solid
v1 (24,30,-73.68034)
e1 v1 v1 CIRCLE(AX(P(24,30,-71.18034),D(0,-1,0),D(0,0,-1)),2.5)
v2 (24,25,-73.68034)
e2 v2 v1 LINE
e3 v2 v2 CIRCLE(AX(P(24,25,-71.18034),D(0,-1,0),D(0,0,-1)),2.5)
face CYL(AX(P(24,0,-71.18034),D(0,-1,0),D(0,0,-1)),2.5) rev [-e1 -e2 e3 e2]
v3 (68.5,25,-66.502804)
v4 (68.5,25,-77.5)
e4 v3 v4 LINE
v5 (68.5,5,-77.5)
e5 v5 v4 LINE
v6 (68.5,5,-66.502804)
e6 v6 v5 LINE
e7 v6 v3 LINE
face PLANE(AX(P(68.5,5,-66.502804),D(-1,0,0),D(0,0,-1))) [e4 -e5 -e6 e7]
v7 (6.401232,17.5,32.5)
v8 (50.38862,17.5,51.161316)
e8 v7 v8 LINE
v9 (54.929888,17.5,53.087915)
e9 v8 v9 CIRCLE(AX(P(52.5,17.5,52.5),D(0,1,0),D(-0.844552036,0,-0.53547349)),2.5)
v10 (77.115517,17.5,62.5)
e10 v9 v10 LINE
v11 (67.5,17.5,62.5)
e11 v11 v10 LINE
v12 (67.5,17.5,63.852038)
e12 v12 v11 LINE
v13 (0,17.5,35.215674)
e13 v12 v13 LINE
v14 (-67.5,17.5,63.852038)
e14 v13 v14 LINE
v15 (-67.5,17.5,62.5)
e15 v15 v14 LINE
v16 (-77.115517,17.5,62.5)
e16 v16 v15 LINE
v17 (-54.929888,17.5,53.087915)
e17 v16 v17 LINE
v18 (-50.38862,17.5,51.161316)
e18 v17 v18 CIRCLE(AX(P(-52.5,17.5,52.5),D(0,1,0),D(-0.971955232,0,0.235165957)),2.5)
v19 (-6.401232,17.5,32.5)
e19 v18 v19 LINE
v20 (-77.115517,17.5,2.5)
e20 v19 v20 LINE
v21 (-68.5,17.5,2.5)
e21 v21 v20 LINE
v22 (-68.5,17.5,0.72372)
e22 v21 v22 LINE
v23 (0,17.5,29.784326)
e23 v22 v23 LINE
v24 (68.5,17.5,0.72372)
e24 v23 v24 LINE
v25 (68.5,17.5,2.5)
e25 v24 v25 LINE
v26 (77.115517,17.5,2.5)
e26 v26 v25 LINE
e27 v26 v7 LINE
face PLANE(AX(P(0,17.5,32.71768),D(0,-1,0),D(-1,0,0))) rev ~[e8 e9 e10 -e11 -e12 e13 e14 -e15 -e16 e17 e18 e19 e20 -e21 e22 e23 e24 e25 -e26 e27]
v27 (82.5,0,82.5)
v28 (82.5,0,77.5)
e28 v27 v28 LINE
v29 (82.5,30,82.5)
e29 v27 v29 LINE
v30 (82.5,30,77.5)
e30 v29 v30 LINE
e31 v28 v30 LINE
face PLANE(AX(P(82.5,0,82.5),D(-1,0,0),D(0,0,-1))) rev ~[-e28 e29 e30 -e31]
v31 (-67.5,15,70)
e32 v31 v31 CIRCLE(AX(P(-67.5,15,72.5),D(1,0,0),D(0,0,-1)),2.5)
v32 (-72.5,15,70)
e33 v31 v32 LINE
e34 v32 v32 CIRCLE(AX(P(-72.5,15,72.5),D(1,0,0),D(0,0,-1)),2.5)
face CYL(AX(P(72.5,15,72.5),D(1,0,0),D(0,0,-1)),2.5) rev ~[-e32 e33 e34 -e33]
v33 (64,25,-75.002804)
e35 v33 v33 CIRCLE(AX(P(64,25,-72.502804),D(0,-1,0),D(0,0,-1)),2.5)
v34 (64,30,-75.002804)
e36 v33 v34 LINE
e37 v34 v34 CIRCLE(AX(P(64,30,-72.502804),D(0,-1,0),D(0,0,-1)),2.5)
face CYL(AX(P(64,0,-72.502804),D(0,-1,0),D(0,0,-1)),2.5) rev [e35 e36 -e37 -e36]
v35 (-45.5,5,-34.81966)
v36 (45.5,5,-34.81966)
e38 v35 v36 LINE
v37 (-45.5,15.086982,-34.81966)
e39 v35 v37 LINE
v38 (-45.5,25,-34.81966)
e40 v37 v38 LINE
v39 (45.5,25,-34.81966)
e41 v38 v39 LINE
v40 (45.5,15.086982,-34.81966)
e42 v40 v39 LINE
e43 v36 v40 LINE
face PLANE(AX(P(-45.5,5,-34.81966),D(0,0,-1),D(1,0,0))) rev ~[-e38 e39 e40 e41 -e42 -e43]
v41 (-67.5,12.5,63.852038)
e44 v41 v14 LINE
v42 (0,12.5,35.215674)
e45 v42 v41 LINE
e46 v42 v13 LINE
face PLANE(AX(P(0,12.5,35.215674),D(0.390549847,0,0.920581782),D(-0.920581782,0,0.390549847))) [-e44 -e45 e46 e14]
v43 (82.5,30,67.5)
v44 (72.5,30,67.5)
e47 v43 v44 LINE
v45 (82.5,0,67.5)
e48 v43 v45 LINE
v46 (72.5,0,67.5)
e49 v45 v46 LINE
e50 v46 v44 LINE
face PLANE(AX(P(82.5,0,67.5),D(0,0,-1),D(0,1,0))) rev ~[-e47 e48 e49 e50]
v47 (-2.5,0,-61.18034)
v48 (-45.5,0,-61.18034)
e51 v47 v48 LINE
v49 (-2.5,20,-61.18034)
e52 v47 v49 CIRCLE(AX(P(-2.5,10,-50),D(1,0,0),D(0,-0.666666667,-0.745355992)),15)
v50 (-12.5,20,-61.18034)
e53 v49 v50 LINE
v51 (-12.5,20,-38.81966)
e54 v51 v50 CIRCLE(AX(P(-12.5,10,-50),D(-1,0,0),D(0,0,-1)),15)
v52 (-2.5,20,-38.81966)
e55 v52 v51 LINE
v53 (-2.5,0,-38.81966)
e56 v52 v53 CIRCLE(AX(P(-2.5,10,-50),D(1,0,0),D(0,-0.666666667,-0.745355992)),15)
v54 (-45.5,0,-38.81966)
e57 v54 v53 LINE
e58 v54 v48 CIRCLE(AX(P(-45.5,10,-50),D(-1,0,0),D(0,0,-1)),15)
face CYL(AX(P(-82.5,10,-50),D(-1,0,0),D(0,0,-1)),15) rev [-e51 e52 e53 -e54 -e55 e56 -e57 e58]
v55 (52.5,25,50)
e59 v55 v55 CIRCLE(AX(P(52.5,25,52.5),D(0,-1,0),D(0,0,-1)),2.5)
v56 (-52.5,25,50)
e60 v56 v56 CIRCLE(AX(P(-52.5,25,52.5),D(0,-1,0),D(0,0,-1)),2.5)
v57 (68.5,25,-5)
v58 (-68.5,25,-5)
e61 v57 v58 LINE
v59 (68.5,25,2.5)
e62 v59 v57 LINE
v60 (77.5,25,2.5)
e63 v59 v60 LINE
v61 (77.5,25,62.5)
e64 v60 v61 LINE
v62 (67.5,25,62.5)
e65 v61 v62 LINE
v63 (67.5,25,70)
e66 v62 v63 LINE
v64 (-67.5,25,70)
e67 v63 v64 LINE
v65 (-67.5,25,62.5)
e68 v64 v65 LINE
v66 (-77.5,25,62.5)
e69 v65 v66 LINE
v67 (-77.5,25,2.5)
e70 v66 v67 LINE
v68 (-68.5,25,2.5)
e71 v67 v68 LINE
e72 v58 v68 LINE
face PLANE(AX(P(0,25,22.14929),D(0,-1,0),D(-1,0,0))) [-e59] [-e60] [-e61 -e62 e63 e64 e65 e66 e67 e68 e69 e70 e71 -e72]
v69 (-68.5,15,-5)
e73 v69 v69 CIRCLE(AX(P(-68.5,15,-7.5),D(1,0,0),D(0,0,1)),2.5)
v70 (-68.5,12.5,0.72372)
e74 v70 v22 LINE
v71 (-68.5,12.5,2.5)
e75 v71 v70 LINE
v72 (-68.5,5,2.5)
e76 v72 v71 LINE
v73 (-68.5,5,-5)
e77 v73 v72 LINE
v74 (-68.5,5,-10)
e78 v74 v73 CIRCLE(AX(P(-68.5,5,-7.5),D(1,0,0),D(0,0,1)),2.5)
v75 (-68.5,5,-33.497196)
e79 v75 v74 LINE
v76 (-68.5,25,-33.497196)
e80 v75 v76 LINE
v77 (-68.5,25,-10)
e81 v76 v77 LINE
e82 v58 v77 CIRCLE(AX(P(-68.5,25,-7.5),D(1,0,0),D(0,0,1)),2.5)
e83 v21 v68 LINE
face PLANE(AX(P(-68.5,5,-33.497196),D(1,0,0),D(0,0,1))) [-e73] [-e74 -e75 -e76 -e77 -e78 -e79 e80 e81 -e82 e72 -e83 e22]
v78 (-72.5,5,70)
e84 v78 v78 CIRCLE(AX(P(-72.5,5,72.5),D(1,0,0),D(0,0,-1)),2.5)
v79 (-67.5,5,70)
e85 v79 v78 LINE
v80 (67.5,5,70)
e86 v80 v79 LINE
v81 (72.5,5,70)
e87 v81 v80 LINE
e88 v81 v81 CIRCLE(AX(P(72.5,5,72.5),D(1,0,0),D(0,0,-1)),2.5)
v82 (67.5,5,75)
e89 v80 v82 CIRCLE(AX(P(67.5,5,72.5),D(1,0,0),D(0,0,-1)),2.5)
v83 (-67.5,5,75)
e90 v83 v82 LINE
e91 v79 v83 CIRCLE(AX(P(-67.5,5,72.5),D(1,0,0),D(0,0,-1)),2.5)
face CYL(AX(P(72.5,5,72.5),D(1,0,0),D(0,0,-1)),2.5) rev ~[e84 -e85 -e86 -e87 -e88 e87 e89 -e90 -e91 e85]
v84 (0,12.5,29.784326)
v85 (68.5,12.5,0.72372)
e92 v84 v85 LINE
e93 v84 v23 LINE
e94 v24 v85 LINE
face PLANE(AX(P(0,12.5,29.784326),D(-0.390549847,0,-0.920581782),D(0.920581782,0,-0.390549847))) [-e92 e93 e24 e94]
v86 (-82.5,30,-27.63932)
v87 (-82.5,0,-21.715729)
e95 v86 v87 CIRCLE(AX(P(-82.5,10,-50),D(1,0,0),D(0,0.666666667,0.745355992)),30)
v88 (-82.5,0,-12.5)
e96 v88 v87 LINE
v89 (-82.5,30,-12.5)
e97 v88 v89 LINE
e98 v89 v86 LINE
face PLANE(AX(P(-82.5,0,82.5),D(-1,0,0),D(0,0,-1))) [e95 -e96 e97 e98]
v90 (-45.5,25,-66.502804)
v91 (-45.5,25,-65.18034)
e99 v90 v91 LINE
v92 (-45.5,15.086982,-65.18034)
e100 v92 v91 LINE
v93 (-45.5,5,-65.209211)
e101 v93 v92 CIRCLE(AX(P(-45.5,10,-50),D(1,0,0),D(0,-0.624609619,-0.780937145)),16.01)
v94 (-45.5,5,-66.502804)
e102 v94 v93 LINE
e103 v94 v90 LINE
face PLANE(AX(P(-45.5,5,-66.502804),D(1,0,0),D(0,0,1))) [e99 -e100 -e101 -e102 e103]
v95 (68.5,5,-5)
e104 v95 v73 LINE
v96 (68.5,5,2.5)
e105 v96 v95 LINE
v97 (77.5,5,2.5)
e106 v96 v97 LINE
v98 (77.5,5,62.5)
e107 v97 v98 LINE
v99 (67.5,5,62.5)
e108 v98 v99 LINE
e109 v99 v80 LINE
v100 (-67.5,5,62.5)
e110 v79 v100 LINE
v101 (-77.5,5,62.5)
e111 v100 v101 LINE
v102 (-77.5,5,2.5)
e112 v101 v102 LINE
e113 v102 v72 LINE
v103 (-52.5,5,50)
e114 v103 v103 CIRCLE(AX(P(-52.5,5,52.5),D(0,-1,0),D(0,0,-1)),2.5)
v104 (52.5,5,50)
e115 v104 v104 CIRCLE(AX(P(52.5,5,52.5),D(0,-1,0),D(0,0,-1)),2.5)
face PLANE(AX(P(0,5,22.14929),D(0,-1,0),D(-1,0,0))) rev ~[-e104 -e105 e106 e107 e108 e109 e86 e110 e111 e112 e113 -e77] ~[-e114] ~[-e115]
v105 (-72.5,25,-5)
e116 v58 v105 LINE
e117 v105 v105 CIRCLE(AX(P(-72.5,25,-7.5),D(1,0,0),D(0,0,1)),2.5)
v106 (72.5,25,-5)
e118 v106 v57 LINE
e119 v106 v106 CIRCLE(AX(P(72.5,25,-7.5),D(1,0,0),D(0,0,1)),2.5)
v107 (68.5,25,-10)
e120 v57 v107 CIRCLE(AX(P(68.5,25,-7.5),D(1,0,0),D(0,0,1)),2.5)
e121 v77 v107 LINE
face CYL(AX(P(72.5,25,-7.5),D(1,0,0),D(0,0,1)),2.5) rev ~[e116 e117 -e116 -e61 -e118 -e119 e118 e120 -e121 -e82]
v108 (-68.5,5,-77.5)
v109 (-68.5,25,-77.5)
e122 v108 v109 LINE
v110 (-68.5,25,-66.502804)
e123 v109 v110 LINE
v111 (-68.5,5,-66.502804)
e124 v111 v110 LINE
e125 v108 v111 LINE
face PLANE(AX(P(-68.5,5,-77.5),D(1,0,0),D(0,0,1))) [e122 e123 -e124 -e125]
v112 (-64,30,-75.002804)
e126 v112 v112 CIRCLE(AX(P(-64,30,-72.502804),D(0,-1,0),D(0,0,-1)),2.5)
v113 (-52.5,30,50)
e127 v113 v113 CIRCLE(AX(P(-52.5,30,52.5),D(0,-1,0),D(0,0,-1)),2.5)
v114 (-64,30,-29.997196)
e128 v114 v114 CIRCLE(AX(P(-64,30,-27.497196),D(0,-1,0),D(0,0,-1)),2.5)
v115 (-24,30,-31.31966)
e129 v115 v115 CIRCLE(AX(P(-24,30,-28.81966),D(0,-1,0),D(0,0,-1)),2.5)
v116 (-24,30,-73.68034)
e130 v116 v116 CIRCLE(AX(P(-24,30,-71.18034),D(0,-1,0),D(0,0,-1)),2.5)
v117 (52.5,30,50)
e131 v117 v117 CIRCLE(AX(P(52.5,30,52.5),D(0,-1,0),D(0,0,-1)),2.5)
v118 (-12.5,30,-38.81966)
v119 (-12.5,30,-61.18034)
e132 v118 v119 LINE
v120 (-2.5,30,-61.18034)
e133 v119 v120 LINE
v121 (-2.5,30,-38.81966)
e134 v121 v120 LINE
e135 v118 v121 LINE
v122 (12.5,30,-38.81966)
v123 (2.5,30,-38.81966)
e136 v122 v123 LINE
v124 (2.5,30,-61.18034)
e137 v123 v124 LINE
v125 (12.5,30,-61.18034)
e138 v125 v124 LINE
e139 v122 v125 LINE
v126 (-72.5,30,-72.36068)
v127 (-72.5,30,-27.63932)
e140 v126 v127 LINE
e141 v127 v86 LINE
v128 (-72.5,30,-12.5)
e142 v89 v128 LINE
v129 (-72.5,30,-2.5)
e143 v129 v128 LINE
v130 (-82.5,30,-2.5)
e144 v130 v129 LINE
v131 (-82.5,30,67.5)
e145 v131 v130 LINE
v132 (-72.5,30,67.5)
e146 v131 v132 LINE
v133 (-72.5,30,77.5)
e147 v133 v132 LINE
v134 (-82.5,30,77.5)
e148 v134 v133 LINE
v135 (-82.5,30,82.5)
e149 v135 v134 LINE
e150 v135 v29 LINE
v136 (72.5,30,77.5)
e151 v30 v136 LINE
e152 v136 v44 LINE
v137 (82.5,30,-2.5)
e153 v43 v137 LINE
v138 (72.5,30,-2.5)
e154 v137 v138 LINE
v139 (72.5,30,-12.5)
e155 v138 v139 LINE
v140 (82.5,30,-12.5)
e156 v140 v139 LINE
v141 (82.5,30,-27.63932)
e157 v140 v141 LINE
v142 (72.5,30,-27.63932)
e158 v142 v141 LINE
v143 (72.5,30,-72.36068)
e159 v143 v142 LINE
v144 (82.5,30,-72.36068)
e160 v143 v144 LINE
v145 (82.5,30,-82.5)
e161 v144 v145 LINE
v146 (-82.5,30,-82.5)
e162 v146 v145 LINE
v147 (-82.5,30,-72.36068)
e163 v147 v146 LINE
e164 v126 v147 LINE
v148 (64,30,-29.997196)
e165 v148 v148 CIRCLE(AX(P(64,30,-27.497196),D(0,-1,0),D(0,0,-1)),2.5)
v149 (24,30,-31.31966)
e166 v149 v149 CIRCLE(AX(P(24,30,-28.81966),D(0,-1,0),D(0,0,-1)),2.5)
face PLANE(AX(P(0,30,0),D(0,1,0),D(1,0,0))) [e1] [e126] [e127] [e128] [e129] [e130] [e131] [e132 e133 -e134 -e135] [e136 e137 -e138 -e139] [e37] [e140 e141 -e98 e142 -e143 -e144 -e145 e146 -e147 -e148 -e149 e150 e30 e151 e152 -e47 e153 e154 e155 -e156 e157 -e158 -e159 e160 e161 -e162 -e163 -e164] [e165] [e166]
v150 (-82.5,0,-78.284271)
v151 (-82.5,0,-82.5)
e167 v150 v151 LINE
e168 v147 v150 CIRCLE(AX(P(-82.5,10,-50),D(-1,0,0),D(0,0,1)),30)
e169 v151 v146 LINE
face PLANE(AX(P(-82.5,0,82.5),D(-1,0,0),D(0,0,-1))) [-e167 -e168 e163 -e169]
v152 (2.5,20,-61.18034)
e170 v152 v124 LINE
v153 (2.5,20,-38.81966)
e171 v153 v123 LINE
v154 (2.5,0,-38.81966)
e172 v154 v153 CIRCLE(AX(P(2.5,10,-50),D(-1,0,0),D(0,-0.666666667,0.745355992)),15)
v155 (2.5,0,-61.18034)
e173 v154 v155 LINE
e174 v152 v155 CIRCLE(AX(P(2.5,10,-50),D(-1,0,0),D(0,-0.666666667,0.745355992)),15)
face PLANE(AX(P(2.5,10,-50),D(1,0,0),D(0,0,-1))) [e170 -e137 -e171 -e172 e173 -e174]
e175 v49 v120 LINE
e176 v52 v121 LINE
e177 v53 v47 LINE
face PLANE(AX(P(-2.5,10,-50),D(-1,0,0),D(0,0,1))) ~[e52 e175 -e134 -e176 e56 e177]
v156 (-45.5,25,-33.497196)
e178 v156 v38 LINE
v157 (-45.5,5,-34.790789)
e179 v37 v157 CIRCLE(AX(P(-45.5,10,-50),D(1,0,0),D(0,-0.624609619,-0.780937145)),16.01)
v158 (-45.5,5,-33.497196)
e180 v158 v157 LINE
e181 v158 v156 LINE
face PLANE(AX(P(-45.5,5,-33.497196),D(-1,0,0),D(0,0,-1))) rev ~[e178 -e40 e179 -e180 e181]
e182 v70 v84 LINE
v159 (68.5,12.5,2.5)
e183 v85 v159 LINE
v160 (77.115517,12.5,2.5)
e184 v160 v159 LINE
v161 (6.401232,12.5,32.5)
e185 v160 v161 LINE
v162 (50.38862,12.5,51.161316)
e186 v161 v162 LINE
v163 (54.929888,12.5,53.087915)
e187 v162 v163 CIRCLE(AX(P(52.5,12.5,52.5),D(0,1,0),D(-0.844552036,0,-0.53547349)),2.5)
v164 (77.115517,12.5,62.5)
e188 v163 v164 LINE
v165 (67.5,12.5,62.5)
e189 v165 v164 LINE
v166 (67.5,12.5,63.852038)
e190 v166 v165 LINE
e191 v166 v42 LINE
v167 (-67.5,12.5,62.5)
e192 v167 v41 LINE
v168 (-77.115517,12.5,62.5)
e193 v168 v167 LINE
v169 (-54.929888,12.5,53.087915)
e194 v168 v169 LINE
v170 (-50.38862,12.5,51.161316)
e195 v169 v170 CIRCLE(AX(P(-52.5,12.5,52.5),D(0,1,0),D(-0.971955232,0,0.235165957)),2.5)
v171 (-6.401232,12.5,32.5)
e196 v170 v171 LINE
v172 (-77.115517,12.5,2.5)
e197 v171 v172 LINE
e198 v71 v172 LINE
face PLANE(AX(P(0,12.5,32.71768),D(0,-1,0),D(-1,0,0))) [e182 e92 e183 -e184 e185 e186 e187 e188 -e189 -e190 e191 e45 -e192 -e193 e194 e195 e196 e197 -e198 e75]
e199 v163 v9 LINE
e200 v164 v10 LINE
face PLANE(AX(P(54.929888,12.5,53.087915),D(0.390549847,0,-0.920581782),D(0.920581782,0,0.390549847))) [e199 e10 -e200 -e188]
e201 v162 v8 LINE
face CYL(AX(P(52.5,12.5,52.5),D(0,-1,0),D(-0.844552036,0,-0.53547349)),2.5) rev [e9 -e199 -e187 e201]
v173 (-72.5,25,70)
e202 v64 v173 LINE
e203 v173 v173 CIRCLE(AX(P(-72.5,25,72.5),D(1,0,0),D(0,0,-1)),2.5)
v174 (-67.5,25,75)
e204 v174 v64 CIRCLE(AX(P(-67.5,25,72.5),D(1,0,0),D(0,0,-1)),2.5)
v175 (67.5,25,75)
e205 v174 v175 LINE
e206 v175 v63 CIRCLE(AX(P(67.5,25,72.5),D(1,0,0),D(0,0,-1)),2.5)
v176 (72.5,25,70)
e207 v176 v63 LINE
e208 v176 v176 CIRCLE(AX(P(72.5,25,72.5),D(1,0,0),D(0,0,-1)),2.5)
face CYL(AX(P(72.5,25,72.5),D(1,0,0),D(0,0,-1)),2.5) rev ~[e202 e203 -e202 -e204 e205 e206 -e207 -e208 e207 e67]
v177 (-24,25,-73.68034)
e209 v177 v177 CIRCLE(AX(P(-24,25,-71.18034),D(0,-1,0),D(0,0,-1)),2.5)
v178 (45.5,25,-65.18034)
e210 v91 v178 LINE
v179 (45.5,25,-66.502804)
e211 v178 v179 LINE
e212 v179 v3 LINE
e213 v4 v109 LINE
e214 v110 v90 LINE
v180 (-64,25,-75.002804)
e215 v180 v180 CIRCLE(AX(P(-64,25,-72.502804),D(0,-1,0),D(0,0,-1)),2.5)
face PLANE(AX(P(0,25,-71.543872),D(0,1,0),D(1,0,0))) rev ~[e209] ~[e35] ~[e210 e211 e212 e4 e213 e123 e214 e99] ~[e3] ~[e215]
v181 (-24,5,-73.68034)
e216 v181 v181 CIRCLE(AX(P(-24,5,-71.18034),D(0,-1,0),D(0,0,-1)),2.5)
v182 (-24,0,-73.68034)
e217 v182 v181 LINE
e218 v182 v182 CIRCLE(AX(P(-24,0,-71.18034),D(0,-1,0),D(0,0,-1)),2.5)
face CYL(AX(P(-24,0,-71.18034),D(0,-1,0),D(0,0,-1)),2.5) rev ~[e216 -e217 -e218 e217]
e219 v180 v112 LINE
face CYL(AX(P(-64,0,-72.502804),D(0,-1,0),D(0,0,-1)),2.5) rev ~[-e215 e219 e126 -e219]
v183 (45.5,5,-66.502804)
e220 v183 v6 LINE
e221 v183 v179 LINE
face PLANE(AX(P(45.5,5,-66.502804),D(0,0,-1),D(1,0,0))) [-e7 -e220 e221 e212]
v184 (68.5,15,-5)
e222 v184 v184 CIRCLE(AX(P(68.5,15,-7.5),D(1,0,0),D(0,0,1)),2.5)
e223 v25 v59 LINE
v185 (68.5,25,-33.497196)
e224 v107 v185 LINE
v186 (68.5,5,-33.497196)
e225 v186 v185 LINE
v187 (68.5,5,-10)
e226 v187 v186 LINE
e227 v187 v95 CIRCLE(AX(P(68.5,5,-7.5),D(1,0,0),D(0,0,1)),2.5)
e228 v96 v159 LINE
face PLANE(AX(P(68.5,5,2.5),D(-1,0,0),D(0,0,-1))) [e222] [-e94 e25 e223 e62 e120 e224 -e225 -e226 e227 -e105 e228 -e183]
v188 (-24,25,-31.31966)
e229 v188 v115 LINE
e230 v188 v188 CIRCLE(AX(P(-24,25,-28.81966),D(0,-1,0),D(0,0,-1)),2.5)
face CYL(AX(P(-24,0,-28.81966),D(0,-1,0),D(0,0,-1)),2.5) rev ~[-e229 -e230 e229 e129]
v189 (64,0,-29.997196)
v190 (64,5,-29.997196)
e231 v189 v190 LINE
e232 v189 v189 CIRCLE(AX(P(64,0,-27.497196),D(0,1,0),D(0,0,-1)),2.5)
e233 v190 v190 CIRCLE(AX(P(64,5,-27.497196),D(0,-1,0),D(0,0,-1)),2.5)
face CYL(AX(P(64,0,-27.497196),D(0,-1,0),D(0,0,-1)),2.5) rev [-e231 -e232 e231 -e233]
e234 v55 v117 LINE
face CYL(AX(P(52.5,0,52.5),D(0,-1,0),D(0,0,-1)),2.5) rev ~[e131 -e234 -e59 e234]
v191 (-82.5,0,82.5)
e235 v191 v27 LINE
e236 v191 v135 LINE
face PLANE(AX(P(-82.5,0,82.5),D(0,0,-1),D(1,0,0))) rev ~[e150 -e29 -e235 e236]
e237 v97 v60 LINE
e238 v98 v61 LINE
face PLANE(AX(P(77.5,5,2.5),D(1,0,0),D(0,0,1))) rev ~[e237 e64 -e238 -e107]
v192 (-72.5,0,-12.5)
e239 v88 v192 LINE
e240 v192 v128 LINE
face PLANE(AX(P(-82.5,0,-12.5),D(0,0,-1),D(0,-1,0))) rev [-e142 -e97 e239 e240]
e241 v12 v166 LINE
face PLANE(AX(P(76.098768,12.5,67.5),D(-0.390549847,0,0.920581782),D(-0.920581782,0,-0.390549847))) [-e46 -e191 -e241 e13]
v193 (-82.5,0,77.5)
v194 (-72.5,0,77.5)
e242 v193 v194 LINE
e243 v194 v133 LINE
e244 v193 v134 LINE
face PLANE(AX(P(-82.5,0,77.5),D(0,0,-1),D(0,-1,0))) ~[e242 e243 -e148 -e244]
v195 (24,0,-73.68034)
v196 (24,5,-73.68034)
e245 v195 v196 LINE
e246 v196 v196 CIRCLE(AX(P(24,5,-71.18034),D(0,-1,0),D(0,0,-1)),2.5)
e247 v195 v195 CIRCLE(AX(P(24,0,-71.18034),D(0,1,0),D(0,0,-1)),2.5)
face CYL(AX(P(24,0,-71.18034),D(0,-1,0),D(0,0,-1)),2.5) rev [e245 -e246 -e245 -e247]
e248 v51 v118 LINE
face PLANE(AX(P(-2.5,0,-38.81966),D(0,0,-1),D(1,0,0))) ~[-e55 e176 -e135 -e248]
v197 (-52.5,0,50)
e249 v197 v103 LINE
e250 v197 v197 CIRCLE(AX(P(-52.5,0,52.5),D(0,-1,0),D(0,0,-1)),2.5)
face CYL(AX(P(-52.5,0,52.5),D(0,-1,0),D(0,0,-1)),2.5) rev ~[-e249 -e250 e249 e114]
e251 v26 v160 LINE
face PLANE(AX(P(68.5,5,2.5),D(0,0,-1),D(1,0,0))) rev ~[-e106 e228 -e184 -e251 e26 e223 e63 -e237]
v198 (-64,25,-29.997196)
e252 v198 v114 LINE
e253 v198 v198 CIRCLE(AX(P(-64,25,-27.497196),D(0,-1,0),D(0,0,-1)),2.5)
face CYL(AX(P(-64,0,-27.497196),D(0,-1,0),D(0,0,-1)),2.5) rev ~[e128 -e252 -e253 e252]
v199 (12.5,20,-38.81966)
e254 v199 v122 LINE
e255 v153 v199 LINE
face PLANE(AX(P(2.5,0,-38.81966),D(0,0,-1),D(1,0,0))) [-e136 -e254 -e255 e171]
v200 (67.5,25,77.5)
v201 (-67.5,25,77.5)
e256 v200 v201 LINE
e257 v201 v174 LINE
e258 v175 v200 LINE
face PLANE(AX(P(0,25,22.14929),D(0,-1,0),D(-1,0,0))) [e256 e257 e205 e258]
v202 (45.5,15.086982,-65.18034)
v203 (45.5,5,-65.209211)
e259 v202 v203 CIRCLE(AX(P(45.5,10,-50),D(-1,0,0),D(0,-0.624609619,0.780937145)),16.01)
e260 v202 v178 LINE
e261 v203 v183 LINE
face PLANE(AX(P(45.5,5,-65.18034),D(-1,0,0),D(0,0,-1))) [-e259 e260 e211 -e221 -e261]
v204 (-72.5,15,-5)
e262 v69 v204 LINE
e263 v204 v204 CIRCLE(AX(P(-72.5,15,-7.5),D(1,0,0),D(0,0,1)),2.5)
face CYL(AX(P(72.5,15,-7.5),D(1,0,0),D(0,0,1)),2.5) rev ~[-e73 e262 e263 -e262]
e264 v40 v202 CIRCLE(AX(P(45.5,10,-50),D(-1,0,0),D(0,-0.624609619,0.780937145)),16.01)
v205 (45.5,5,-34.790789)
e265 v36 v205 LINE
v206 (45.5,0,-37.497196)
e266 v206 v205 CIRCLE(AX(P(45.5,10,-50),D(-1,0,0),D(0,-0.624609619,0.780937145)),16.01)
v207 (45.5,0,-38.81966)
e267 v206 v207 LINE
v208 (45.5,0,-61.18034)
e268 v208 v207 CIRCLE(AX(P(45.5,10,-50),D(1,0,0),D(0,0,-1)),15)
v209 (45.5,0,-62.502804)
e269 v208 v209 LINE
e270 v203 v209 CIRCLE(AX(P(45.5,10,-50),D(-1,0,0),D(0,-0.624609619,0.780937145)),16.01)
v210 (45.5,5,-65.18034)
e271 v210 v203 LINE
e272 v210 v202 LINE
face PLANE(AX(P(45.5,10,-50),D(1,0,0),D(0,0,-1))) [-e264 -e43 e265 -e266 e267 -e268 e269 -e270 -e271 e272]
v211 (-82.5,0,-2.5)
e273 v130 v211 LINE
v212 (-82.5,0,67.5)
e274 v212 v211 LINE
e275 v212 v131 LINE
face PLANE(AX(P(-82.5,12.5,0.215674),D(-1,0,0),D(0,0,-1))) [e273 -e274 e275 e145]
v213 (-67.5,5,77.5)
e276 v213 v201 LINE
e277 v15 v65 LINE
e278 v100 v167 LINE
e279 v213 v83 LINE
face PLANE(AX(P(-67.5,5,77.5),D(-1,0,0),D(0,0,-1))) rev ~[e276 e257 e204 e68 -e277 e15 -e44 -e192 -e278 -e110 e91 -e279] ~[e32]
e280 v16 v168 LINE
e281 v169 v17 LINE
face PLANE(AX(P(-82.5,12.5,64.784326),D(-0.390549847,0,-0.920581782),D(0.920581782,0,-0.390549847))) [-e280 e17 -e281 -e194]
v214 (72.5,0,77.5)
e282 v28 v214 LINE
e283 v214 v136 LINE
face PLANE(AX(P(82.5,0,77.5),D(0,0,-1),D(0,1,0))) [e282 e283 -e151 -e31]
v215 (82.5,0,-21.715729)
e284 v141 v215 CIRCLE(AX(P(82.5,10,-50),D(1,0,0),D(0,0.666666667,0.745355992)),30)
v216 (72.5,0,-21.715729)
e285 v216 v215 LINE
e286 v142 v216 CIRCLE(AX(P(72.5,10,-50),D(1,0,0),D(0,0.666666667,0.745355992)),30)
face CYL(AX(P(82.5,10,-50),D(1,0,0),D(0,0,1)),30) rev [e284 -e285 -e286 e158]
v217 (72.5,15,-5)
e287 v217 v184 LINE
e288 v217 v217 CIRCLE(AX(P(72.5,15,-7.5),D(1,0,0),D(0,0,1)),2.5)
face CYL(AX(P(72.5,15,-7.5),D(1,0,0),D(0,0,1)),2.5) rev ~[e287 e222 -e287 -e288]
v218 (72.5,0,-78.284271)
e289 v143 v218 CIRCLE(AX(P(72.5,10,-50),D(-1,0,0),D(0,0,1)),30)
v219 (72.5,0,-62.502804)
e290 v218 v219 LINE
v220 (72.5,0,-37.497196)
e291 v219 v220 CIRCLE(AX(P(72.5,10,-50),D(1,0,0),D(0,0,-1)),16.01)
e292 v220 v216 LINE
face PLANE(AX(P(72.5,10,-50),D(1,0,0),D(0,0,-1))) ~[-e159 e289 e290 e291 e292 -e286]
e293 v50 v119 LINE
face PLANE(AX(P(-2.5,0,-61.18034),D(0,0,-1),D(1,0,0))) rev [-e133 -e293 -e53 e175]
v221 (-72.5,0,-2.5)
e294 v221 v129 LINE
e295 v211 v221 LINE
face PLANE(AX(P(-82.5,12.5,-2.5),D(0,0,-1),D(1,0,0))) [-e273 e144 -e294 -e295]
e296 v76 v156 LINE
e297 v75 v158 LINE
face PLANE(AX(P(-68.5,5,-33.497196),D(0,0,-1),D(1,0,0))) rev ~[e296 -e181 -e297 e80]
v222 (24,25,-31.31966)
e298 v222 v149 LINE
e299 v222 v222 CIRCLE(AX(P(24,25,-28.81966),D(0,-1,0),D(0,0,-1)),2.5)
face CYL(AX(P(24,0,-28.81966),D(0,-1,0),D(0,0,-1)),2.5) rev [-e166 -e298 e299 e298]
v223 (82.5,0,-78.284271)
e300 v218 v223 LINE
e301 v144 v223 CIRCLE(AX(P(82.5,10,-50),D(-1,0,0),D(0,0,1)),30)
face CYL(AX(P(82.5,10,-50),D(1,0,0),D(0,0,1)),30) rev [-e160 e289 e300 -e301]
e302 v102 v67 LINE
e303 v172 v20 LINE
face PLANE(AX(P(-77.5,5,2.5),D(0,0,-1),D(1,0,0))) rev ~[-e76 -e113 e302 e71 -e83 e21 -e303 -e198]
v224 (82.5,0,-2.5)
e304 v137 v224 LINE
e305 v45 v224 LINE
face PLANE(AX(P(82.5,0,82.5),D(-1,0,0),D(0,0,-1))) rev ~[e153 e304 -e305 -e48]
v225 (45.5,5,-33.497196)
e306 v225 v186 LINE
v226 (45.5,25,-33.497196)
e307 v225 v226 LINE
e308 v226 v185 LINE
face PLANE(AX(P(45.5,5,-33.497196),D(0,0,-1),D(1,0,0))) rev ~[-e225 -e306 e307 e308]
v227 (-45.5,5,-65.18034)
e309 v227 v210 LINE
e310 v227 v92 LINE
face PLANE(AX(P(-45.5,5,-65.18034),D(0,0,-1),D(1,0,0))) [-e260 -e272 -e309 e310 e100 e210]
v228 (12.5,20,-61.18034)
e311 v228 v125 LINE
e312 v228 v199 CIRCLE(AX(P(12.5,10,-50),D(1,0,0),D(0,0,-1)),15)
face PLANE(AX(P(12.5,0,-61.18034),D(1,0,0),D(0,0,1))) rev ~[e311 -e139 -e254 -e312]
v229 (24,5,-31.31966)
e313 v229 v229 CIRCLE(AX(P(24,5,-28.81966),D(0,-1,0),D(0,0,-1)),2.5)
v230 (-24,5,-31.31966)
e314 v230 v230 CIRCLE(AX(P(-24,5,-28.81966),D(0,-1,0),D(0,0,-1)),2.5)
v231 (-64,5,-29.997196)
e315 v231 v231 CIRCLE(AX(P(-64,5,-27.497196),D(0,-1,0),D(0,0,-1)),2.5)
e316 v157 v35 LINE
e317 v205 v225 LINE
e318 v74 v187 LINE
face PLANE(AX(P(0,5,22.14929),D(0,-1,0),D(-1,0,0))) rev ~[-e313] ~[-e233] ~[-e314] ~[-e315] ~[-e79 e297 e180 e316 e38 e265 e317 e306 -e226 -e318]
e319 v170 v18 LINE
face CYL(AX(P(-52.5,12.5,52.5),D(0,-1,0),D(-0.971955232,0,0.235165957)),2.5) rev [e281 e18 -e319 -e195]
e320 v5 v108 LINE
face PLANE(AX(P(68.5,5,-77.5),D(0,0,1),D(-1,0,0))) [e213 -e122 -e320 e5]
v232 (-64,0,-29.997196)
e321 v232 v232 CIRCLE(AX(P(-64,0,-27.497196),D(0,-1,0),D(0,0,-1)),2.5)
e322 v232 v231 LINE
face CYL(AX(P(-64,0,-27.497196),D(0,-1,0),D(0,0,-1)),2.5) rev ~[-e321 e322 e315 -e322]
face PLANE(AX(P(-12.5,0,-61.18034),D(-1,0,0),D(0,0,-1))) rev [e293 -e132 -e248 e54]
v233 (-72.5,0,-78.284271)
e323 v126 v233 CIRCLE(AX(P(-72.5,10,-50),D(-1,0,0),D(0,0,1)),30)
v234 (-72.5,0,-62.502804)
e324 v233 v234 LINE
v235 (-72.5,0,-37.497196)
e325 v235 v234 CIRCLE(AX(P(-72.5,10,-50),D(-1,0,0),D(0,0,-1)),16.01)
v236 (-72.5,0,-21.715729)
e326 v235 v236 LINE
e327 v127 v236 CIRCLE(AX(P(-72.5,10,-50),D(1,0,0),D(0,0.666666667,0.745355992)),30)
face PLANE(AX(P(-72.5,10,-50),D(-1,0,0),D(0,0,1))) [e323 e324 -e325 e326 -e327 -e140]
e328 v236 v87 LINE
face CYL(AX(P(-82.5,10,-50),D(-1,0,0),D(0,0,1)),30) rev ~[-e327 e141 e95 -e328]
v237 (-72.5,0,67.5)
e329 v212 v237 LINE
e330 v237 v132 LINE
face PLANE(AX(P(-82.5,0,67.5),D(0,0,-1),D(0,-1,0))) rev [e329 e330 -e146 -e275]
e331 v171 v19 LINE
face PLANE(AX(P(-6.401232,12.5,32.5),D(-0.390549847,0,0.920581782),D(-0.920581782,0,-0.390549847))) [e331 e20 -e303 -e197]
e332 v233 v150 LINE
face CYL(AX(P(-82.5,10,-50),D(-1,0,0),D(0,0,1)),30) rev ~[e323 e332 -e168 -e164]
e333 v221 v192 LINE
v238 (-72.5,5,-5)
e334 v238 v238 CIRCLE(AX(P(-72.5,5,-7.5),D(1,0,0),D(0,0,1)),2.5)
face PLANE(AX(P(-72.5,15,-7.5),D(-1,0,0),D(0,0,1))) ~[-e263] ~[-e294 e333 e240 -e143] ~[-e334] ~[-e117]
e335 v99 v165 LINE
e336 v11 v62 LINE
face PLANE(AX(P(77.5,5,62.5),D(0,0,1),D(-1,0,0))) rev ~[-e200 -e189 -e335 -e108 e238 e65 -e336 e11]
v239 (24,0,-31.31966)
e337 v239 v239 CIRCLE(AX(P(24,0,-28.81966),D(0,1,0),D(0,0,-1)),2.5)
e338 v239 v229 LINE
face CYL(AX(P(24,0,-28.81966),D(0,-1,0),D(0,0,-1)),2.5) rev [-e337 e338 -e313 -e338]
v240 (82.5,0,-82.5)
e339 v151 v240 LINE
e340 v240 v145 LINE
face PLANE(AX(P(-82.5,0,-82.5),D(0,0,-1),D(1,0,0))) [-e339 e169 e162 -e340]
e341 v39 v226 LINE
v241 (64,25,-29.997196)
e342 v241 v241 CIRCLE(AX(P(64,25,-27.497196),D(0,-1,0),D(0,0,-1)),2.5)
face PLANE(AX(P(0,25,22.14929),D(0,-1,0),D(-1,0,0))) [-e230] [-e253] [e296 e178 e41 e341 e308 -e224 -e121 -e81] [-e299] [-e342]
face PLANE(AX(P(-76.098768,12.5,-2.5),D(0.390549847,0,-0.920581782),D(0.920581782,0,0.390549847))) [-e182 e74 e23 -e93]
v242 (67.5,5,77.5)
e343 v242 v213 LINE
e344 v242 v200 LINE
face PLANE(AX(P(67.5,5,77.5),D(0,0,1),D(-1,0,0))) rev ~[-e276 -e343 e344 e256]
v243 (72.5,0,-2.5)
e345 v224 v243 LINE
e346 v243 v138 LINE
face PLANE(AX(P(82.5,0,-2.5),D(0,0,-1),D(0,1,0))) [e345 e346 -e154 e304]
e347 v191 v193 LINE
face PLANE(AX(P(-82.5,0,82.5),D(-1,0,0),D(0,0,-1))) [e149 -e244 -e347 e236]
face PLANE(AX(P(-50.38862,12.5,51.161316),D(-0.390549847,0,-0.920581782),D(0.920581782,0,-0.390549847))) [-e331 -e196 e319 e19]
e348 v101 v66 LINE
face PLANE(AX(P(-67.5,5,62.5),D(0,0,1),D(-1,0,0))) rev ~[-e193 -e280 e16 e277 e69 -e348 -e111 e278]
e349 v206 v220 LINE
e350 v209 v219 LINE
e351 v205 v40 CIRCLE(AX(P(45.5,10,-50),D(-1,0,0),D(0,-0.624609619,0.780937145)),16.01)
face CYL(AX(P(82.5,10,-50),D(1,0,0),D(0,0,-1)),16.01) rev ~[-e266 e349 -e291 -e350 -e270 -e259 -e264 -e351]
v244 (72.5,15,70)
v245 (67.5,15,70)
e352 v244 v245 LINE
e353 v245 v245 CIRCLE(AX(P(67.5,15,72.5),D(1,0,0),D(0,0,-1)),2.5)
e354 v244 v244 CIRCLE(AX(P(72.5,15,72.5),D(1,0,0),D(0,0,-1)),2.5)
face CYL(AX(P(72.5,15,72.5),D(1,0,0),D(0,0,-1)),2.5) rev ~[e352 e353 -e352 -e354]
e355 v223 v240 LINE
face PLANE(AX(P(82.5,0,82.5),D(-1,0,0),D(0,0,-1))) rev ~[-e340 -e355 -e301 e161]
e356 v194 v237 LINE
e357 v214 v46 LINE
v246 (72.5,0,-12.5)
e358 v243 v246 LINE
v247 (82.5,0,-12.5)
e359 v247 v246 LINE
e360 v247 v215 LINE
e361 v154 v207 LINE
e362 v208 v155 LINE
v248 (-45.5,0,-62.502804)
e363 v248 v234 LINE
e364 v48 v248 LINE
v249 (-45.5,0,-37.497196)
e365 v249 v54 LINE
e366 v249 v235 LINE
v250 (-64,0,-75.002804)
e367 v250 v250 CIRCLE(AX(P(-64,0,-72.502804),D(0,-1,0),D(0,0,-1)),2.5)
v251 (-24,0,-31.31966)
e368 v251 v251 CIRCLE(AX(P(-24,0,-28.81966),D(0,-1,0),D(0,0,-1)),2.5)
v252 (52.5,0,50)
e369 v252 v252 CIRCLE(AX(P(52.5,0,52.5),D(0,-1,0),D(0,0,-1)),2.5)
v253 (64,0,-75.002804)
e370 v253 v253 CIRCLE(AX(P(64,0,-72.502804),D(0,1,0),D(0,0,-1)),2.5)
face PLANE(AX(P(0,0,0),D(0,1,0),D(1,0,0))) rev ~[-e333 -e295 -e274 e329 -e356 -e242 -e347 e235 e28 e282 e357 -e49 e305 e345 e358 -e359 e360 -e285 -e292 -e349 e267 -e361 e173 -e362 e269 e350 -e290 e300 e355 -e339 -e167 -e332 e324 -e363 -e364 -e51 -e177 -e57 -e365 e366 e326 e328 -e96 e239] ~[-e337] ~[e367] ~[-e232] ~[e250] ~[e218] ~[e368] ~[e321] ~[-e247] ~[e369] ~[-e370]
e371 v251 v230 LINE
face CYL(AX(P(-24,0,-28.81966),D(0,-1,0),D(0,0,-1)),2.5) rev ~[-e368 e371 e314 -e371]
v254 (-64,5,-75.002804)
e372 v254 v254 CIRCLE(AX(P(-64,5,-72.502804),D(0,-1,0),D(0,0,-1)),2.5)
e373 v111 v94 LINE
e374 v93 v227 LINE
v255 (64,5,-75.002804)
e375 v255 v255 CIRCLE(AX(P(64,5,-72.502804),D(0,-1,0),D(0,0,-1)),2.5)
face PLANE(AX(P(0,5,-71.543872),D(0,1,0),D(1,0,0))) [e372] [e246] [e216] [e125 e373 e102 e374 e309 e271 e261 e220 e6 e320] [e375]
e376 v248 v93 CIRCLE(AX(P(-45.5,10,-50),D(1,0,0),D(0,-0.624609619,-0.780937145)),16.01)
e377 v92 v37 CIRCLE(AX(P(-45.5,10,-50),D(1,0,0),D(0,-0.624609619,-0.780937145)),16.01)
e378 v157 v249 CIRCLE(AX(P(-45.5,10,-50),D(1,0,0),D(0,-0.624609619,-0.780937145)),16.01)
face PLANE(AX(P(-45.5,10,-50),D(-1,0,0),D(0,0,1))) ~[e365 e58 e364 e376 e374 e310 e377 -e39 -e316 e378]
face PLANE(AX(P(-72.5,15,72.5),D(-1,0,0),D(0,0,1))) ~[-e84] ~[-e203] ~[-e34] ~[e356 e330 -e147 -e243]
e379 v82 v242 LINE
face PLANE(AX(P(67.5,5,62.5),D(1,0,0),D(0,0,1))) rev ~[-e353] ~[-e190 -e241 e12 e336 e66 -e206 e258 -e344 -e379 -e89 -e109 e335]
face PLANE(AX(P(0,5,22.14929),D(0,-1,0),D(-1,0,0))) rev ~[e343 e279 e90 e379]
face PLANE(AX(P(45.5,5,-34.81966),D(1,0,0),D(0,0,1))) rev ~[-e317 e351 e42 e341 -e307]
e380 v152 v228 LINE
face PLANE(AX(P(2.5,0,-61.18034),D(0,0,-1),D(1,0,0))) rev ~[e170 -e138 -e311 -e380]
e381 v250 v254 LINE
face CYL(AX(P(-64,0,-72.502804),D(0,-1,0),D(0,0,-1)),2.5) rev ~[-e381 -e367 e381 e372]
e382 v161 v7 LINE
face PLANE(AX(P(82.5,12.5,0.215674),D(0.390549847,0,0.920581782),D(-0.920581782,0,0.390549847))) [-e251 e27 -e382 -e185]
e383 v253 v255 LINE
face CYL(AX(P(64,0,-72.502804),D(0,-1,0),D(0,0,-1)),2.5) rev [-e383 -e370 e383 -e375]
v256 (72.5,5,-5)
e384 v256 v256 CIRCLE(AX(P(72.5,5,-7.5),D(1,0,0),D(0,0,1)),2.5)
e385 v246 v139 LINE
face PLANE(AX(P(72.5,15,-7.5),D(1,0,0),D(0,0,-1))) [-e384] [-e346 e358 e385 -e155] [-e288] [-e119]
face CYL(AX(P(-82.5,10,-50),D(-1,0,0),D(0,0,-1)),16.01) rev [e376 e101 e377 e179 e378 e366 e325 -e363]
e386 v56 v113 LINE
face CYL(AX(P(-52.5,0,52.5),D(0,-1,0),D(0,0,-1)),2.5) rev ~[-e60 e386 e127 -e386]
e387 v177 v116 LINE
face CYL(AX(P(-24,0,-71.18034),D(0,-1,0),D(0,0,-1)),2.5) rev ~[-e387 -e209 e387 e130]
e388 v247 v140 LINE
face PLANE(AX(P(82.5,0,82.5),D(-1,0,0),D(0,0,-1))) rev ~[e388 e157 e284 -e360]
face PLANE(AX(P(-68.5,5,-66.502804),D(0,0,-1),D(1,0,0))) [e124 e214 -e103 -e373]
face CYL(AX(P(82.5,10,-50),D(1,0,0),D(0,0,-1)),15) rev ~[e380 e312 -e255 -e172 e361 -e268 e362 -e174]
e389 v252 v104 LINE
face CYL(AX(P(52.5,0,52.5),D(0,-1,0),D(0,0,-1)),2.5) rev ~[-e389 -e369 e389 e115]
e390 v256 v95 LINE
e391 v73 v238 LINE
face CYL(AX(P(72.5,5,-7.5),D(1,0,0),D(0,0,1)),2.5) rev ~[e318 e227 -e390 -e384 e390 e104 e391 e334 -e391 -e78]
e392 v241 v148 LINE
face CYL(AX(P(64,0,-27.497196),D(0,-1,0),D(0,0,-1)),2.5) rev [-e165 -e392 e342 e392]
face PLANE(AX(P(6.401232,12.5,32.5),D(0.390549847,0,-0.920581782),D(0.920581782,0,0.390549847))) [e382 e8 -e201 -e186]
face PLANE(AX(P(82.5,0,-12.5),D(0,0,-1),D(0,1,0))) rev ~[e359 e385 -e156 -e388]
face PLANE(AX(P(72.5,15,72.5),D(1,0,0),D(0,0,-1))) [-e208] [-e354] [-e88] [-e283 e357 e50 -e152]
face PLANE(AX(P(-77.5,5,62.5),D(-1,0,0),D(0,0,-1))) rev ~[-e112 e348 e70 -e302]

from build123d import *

# Parameters (mm, degrees)
ESQUISSE2_W                  = 165
ESQUISSE2_H                  = 165
BASE_DEPTH                   = 30
ESQUISSE3_R                  = 15
BLOC_MOTEUR_1_DEPTH          = 80
ESQUISSE4_W                  = 10
ESQUISSE4_H                  = 22.360679774
ACCES_MOTEUR_DEPTH           = 37
ESQUISSE6_R                  = 16.01
BLOC_MOTEUR_2_DEPTH          = 37
ESQUISSE7_R                  = 2.5
VIS_MOTEUR_DEPTH             = 121.467838032
ESQUISSE8_R                  = 2.5
VIS_PATIN_DEPTH              = 121.467838032
ESQUISSE12_R                 = 30
ESPACE_ROUE_DEPTH            = 10
ESQUISSE23_W                 = 10
ESQUISSE23_H                 = 30
VIDE_TIGE_DEPTH              = 10
VIDE_VIS_REACH               = 180.133
ESQUISSE25_R                 = 2.5
ENL_V_MAT_EXTRU_1_DEPTH      = 10
ENL_V_MAT_EXTRU_1_DEPTH_BACK = 10
BOSS_EXTRU_1_DEPTH           = 2.5
BOSS_EXTRU_1_DEPTH_BACK      = 2.5


with BuildPart() as part:
    # Esquisse2 → BASE (new body)
    with BuildSketch(Plane(origin=(0, 0, 0), x_dir=(1, 0, 0), z_dir=(0, 1, 0))):
        Rectangle(ESQUISSE2_W, ESQUISSE2_H)
    extrude(amount=BASE_DEPTH)

    # Esquisse3 → BLOC MOTEUR 1. (cut)
    with BuildSketch(Plane(origin=(82.5, 0, 0), x_dir=(0, 0, -1), z_dir=(1, 0, 0))):
        with Locations((50, 10)):
            Circle(ESQUISSE3_R)
    bloc_moteur_1 = extrude(amount=-BLOC_MOTEUR_1_DEPTH, mode=Mode.SUBTRACT)

    # Esquisse4 → ACCES MOTEUR (cut)
    with BuildSketch(Plane.XZ):
        with Locations((7.5, -50)):
            Rectangle(ESQUISSE4_W, ESQUISSE4_H)
    acces_moteur = extrude(amount=-ACCES_MOTEUR_DEPTH, mode=Mode.SUBTRACT)

    # Esquisse6 → BLOC MOTEUR 2 (cut)
    with BuildSketch(Plane(origin=(82.5, 0, 0), x_dir=(0, 0, -1), z_dir=(1, 0, 0))):
        with Locations((50, 10)):
            Circle(ESQUISSE6_R)
    bloc_moteur_2 = extrude(amount=-BLOC_MOTEUR_2_DEPTH, mode=Mode.SUBTRACT)

    # SYM BLOC MOTEUR: BLOC MOTEUR 1., ACCES MOTEUR, BLOC MOTEUR 2 across plane
    add(bloc_moteur_1.mirror(Plane(origin=(0, 0, 0), x_dir=(0, 0, 1), z_dir=(1, 0, 0))), mode=Mode.SUBTRACT)
    add(acces_moteur.mirror(Plane(origin=(0, 0, 0), x_dir=(0, 0, 1), z_dir=(1, 0, 0))), mode=Mode.SUBTRACT)
    add(bloc_moteur_2.mirror(Plane(origin=(0, 0, 0), x_dir=(0, 0, 1), z_dir=(1, 0, 0))), mode=Mode.SUBTRACT)

    # Esquisse7 → VIS MOTEUR (cut, through all)
    with BuildSketch(Plane.XZ):
        with Locations(Location((-64, -27.497196314, 0), (0, 0, 270))):
            Circle(ESQUISSE7_R)
        with Locations(Location((-24, -28.819660113, 0), (0, 0, 270))):
            Circle(ESQUISSE7_R)
        with Locations(Location((-24, -71.180339887, 0), (0, 0, 270))):
            Circle(ESQUISSE7_R)
        with Locations(Location((-64, -72.502803686, 0), (0, 0, 270))):
            Circle(ESQUISSE7_R)
    vis_moteur = extrude(amount=-VIS_MOTEUR_DEPTH, mode=Mode.SUBTRACT)

    # SYM VIS: VIS MOTEUR across plane
    add(vis_moteur.mirror(Plane(origin=(0, 0, 0), x_dir=(0, 0, 1), z_dir=(1, 0, 0))), mode=Mode.SUBTRACT)

    # Esquisse8 → VIS PATIN (cut, through all)
    with BuildSketch(Plane.XZ):
        with Locations(Location((-52.5, 52.5, 0), (0, 0, 270))):
            Circle(ESQUISSE8_R)
        with Locations(Location((52.5, 52.5, 0), (0, 0, 270))):
            Circle(ESQUISSE8_R)
    extrude(amount=-VIS_PATIN_DEPTH, mode=Mode.SUBTRACT)

    # Esquisse12 → ESPACE ROUE (cut)
    with BuildSketch(Plane.ZY.offset(82.5)):
        with Locations((-50, 10)):
            Circle(ESQUISSE12_R)
    espace_roue = extrude(amount=-ESPACE_ROUE_DEPTH, mode=Mode.SUBTRACT)

    # SYM ESPACE ROUE: ESPACE ROUE across plane
    add(espace_roue.mirror(Plane(origin=(0, 0, 0), x_dir=(0, 0, 1), z_dir=(1, 0, 0))), mode=Mode.SUBTRACT)

    # Esquisse23 → VIDE TIGE (cut)
    with BuildSketch(Plane(origin=(82.5, 0, 0), x_dir=(0, 0, -1), z_dir=(1, 0, 0))):
        with Locations((-72.5, 15)):
            Rectangle(ESQUISSE23_W, ESQUISSE23_H)
        with Locations((7.5, 15)):
            Rectangle(ESQUISSE23_W, ESQUISSE23_H)
    vide_tige = extrude(amount=-VIDE_TIGE_DEPTH, mode=Mode.SUBTRACT)

    # SYM TIGE: VIDE TIGE across plane
    add(vide_tige.mirror(Plane(origin=(0, 0, 0), x_dir=(0, 0, 1), z_dir=(1, 0, 0))), mode=Mode.SUBTRACT)

    # Esquisse25 → VIDE VIS (cut, up to next)
    with BuildSketch(Plane(origin=(72.5, 0, 0), x_dir=(0, 0, -1), z_dir=(1, 0, 0)), mode=Mode.PRIVATE) as vide_vis_sk1:
        with Locations((-72.5, 25)):
            Circle(ESQUISSE25_R)
    vide_vis_tool1 = extrude(vide_vis_sk1.sketch, amount=-VIDE_VIS_REACH, mode=Mode.PRIVATE) & part.part
    # Esquisse25 → VIDE VIS (cut, up to next)
    with BuildSketch(Plane(origin=(72.5, 0, 0), x_dir=(0, 0, -1), z_dir=(1, 0, 0)), mode=Mode.PRIVATE) as vide_vis_sk2:
        with Locations((-72.5, 15)):
            Circle(ESQUISSE25_R)
    vide_vis_tool2 = extrude(vide_vis_sk2.sketch, amount=-VIDE_VIS_REACH, mode=Mode.PRIVATE) & part.part
    # Esquisse25 → VIDE VIS (cut, up to next)
    with BuildSketch(Plane(origin=(72.5, 0, 0), x_dir=(0, 0, -1), z_dir=(1, 0, 0)), mode=Mode.PRIVATE) as vide_vis_sk3:
        with Locations((-72.5, 5)):
            Circle(ESQUISSE25_R)
    vide_vis_tool3 = extrude(vide_vis_sk3.sketch, amount=-VIDE_VIS_REACH, mode=Mode.PRIVATE) & part.part
    # Esquisse25 → VIDE VIS (cut, up to next)
    with BuildSketch(Plane(origin=(72.5, 0, 0), x_dir=(0, 0, -1), z_dir=(1, 0, 0)), mode=Mode.PRIVATE) as vide_vis_sk4:
        with Locations(Location((7.5, 5, 0), (0, 0, 180))):
            Circle(ESQUISSE25_R)
    vide_vis_tool4 = extrude(vide_vis_sk4.sketch, amount=-VIDE_VIS_REACH, mode=Mode.PRIVATE) & part.part
    # Esquisse25 → VIDE VIS (cut, up to next)
    with BuildSketch(Plane(origin=(72.5, 0, 0), x_dir=(0, 0, -1), z_dir=(1, 0, 0)), mode=Mode.PRIVATE) as vide_vis_sk5:
        with Locations(Location((7.5, 25, 0), (0, 0, 180))):
            Circle(ESQUISSE25_R)
    vide_vis_tool5 = extrude(vide_vis_sk5.sketch, amount=-VIDE_VIS_REACH, mode=Mode.PRIVATE) & part.part
    # Esquisse25 → VIDE VIS (cut, up to next)
    with BuildSketch(Plane(origin=(72.5, 0, 0), x_dir=(0, 0, -1), z_dir=(1, 0, 0)), mode=Mode.PRIVATE) as vide_vis_sk6:
        with Locations(Location((7.5, 15, 0), (0, 0, 180))):
            Circle(ESQUISSE25_R)
    vide_vis_tool6 = extrude(vide_vis_sk6.sketch, amount=-VIDE_VIS_REACH, mode=Mode.PRIVATE) & part.part
    add(vide_vis_tool1.solids().sort_by_distance((72.5, 25, 72.5))[0], mode=Mode.SUBTRACT)
    add(vide_vis_tool2.solids().sort_by_distance((72.5, 15, 72.5))[0], mode=Mode.SUBTRACT)
    add(vide_vis_tool3.solids().sort_by_distance((72.5, 5, 72.5))[0], mode=Mode.SUBTRACT)
    add(vide_vis_tool4.solids().sort_by_distance((72.5, 5, -7.5))[0], mode=Mode.SUBTRACT)
    add(vide_vis_tool5.solids().sort_by_distance((72.5, 25, -7.5))[0], mode=Mode.SUBTRACT)
    add(vide_vis_tool6.solids().sort_by_distance((72.5, 15, -7.5))[0], mode=Mode.SUBTRACT)

    # Esquisse27 → Enlèv. mat.-Extru.1 (cut, two sides: drawn at the far end of the back side and taken through both)
    with BuildSketch(Plane(origin=(0, 15, 0), x_dir=(1, 0, 0), z_dir=(0, 1, 0)).offset(-ENL_V_MAT_EXTRU_1_DEPTH_BACK)):
        Polygon((-77.5, -62.5), (-77.5, -2.5), (-68.5, -2.5), (-68.5, 16.142194012), (-68.5, 33.497196314), (-45.5, 33.497196314), (-45.5, 34.819660113), (45.5, 34.819660113), (45.5, 33.497196314), (68.5, 33.497196314), (68.5, 16.142194012), (68.5, -2.5), (77.5, -2.5), (77.5, -62.5), (67.5, -62.5), (67.5, -77.5), (-67.5, -77.5), (-67.5, -62.5), align=None)
        Polygon((-68.5, 66.502803686), (-45.5, 66.502803686), (-45.5, 65.180339887), (45.5, 65.180339887), (45.5, 66.502803686), (68.5, 66.502803686), (68.5, 77.5), (-68.5, 77.5), align=None)
    extrude(amount=ENL_V_MAT_EXTRU_1_DEPTH + ENL_V_MAT_EXTRU_1_DEPTH_BACK, mode=Mode.SUBTRACT)

    # Esquisse29 → Boss.-Extru.1 (add, two sides: drawn at the far end of the back side and taken through both)
    with BuildSketch(Plane(origin=(0, 15, 0), x_dir=(1, 0, 0), z_dir=(0, 1, 0)).offset(-BOSS_EXTRU_1_DEPTH_BACK)):
        with BuildLine():
            Line((-76.098768454, 2.5), (0, -29.784326011))
            Line((0, -29.784326011), (76.098768454, 2.5))
            Line((76.098768454, 2.5), (82.5, 2.5))
            Line((82.5, 2.5), (82.5, -0.215673989))
            Line((82.5, -0.215673989), (6.401231546, -32.5))
            Line((6.401231546, -32.5), (50.38861991, -51.161316275))
            ThreePointArc((50.38861991, -51.161316275), (51.523625383, -54.801454455), (54.929888079, -53.087914893))
            Line((54.929888079, -53.087914893), (82.5, -64.784326011))
            Line((82.5, -64.784326011), (82.5, -67.5))
            Line((82.5, -67.5), (76.098768454, -67.5))
            Line((76.098768454, -67.5), (0, -35.215673989))
            Line((0, -35.215673989), (-76.098768454, -67.5))
            Line((-76.098768454, -67.5), (-82.5, -67.5))
            Line((-82.5, -67.5), (-82.5, -64.784326011))
            Line((-82.5, -64.784326011), (-54.929888079, -53.087914893))
            ThreePointArc((-54.929888079, -53.087914893), (-51.523625383, -54.801454455), (-50.38861991, -51.161316275))
            Line((-50.38861991, -51.161316275), (-6.401231546, -32.5))
            Line((-6.401231546, -32.5), (-82.5, -0.215673989))
            Line((-82.5, -0.215673989), (-82.5, 2.5))
            Line((-82.5, 2.5), (-76.098768454, 2.5))
        make_face()
    extrude(amount=BOSS_EXTRU_1_DEPTH + BOSS_EXTRU_1_DEPTH_BACK)


solid = part.part
